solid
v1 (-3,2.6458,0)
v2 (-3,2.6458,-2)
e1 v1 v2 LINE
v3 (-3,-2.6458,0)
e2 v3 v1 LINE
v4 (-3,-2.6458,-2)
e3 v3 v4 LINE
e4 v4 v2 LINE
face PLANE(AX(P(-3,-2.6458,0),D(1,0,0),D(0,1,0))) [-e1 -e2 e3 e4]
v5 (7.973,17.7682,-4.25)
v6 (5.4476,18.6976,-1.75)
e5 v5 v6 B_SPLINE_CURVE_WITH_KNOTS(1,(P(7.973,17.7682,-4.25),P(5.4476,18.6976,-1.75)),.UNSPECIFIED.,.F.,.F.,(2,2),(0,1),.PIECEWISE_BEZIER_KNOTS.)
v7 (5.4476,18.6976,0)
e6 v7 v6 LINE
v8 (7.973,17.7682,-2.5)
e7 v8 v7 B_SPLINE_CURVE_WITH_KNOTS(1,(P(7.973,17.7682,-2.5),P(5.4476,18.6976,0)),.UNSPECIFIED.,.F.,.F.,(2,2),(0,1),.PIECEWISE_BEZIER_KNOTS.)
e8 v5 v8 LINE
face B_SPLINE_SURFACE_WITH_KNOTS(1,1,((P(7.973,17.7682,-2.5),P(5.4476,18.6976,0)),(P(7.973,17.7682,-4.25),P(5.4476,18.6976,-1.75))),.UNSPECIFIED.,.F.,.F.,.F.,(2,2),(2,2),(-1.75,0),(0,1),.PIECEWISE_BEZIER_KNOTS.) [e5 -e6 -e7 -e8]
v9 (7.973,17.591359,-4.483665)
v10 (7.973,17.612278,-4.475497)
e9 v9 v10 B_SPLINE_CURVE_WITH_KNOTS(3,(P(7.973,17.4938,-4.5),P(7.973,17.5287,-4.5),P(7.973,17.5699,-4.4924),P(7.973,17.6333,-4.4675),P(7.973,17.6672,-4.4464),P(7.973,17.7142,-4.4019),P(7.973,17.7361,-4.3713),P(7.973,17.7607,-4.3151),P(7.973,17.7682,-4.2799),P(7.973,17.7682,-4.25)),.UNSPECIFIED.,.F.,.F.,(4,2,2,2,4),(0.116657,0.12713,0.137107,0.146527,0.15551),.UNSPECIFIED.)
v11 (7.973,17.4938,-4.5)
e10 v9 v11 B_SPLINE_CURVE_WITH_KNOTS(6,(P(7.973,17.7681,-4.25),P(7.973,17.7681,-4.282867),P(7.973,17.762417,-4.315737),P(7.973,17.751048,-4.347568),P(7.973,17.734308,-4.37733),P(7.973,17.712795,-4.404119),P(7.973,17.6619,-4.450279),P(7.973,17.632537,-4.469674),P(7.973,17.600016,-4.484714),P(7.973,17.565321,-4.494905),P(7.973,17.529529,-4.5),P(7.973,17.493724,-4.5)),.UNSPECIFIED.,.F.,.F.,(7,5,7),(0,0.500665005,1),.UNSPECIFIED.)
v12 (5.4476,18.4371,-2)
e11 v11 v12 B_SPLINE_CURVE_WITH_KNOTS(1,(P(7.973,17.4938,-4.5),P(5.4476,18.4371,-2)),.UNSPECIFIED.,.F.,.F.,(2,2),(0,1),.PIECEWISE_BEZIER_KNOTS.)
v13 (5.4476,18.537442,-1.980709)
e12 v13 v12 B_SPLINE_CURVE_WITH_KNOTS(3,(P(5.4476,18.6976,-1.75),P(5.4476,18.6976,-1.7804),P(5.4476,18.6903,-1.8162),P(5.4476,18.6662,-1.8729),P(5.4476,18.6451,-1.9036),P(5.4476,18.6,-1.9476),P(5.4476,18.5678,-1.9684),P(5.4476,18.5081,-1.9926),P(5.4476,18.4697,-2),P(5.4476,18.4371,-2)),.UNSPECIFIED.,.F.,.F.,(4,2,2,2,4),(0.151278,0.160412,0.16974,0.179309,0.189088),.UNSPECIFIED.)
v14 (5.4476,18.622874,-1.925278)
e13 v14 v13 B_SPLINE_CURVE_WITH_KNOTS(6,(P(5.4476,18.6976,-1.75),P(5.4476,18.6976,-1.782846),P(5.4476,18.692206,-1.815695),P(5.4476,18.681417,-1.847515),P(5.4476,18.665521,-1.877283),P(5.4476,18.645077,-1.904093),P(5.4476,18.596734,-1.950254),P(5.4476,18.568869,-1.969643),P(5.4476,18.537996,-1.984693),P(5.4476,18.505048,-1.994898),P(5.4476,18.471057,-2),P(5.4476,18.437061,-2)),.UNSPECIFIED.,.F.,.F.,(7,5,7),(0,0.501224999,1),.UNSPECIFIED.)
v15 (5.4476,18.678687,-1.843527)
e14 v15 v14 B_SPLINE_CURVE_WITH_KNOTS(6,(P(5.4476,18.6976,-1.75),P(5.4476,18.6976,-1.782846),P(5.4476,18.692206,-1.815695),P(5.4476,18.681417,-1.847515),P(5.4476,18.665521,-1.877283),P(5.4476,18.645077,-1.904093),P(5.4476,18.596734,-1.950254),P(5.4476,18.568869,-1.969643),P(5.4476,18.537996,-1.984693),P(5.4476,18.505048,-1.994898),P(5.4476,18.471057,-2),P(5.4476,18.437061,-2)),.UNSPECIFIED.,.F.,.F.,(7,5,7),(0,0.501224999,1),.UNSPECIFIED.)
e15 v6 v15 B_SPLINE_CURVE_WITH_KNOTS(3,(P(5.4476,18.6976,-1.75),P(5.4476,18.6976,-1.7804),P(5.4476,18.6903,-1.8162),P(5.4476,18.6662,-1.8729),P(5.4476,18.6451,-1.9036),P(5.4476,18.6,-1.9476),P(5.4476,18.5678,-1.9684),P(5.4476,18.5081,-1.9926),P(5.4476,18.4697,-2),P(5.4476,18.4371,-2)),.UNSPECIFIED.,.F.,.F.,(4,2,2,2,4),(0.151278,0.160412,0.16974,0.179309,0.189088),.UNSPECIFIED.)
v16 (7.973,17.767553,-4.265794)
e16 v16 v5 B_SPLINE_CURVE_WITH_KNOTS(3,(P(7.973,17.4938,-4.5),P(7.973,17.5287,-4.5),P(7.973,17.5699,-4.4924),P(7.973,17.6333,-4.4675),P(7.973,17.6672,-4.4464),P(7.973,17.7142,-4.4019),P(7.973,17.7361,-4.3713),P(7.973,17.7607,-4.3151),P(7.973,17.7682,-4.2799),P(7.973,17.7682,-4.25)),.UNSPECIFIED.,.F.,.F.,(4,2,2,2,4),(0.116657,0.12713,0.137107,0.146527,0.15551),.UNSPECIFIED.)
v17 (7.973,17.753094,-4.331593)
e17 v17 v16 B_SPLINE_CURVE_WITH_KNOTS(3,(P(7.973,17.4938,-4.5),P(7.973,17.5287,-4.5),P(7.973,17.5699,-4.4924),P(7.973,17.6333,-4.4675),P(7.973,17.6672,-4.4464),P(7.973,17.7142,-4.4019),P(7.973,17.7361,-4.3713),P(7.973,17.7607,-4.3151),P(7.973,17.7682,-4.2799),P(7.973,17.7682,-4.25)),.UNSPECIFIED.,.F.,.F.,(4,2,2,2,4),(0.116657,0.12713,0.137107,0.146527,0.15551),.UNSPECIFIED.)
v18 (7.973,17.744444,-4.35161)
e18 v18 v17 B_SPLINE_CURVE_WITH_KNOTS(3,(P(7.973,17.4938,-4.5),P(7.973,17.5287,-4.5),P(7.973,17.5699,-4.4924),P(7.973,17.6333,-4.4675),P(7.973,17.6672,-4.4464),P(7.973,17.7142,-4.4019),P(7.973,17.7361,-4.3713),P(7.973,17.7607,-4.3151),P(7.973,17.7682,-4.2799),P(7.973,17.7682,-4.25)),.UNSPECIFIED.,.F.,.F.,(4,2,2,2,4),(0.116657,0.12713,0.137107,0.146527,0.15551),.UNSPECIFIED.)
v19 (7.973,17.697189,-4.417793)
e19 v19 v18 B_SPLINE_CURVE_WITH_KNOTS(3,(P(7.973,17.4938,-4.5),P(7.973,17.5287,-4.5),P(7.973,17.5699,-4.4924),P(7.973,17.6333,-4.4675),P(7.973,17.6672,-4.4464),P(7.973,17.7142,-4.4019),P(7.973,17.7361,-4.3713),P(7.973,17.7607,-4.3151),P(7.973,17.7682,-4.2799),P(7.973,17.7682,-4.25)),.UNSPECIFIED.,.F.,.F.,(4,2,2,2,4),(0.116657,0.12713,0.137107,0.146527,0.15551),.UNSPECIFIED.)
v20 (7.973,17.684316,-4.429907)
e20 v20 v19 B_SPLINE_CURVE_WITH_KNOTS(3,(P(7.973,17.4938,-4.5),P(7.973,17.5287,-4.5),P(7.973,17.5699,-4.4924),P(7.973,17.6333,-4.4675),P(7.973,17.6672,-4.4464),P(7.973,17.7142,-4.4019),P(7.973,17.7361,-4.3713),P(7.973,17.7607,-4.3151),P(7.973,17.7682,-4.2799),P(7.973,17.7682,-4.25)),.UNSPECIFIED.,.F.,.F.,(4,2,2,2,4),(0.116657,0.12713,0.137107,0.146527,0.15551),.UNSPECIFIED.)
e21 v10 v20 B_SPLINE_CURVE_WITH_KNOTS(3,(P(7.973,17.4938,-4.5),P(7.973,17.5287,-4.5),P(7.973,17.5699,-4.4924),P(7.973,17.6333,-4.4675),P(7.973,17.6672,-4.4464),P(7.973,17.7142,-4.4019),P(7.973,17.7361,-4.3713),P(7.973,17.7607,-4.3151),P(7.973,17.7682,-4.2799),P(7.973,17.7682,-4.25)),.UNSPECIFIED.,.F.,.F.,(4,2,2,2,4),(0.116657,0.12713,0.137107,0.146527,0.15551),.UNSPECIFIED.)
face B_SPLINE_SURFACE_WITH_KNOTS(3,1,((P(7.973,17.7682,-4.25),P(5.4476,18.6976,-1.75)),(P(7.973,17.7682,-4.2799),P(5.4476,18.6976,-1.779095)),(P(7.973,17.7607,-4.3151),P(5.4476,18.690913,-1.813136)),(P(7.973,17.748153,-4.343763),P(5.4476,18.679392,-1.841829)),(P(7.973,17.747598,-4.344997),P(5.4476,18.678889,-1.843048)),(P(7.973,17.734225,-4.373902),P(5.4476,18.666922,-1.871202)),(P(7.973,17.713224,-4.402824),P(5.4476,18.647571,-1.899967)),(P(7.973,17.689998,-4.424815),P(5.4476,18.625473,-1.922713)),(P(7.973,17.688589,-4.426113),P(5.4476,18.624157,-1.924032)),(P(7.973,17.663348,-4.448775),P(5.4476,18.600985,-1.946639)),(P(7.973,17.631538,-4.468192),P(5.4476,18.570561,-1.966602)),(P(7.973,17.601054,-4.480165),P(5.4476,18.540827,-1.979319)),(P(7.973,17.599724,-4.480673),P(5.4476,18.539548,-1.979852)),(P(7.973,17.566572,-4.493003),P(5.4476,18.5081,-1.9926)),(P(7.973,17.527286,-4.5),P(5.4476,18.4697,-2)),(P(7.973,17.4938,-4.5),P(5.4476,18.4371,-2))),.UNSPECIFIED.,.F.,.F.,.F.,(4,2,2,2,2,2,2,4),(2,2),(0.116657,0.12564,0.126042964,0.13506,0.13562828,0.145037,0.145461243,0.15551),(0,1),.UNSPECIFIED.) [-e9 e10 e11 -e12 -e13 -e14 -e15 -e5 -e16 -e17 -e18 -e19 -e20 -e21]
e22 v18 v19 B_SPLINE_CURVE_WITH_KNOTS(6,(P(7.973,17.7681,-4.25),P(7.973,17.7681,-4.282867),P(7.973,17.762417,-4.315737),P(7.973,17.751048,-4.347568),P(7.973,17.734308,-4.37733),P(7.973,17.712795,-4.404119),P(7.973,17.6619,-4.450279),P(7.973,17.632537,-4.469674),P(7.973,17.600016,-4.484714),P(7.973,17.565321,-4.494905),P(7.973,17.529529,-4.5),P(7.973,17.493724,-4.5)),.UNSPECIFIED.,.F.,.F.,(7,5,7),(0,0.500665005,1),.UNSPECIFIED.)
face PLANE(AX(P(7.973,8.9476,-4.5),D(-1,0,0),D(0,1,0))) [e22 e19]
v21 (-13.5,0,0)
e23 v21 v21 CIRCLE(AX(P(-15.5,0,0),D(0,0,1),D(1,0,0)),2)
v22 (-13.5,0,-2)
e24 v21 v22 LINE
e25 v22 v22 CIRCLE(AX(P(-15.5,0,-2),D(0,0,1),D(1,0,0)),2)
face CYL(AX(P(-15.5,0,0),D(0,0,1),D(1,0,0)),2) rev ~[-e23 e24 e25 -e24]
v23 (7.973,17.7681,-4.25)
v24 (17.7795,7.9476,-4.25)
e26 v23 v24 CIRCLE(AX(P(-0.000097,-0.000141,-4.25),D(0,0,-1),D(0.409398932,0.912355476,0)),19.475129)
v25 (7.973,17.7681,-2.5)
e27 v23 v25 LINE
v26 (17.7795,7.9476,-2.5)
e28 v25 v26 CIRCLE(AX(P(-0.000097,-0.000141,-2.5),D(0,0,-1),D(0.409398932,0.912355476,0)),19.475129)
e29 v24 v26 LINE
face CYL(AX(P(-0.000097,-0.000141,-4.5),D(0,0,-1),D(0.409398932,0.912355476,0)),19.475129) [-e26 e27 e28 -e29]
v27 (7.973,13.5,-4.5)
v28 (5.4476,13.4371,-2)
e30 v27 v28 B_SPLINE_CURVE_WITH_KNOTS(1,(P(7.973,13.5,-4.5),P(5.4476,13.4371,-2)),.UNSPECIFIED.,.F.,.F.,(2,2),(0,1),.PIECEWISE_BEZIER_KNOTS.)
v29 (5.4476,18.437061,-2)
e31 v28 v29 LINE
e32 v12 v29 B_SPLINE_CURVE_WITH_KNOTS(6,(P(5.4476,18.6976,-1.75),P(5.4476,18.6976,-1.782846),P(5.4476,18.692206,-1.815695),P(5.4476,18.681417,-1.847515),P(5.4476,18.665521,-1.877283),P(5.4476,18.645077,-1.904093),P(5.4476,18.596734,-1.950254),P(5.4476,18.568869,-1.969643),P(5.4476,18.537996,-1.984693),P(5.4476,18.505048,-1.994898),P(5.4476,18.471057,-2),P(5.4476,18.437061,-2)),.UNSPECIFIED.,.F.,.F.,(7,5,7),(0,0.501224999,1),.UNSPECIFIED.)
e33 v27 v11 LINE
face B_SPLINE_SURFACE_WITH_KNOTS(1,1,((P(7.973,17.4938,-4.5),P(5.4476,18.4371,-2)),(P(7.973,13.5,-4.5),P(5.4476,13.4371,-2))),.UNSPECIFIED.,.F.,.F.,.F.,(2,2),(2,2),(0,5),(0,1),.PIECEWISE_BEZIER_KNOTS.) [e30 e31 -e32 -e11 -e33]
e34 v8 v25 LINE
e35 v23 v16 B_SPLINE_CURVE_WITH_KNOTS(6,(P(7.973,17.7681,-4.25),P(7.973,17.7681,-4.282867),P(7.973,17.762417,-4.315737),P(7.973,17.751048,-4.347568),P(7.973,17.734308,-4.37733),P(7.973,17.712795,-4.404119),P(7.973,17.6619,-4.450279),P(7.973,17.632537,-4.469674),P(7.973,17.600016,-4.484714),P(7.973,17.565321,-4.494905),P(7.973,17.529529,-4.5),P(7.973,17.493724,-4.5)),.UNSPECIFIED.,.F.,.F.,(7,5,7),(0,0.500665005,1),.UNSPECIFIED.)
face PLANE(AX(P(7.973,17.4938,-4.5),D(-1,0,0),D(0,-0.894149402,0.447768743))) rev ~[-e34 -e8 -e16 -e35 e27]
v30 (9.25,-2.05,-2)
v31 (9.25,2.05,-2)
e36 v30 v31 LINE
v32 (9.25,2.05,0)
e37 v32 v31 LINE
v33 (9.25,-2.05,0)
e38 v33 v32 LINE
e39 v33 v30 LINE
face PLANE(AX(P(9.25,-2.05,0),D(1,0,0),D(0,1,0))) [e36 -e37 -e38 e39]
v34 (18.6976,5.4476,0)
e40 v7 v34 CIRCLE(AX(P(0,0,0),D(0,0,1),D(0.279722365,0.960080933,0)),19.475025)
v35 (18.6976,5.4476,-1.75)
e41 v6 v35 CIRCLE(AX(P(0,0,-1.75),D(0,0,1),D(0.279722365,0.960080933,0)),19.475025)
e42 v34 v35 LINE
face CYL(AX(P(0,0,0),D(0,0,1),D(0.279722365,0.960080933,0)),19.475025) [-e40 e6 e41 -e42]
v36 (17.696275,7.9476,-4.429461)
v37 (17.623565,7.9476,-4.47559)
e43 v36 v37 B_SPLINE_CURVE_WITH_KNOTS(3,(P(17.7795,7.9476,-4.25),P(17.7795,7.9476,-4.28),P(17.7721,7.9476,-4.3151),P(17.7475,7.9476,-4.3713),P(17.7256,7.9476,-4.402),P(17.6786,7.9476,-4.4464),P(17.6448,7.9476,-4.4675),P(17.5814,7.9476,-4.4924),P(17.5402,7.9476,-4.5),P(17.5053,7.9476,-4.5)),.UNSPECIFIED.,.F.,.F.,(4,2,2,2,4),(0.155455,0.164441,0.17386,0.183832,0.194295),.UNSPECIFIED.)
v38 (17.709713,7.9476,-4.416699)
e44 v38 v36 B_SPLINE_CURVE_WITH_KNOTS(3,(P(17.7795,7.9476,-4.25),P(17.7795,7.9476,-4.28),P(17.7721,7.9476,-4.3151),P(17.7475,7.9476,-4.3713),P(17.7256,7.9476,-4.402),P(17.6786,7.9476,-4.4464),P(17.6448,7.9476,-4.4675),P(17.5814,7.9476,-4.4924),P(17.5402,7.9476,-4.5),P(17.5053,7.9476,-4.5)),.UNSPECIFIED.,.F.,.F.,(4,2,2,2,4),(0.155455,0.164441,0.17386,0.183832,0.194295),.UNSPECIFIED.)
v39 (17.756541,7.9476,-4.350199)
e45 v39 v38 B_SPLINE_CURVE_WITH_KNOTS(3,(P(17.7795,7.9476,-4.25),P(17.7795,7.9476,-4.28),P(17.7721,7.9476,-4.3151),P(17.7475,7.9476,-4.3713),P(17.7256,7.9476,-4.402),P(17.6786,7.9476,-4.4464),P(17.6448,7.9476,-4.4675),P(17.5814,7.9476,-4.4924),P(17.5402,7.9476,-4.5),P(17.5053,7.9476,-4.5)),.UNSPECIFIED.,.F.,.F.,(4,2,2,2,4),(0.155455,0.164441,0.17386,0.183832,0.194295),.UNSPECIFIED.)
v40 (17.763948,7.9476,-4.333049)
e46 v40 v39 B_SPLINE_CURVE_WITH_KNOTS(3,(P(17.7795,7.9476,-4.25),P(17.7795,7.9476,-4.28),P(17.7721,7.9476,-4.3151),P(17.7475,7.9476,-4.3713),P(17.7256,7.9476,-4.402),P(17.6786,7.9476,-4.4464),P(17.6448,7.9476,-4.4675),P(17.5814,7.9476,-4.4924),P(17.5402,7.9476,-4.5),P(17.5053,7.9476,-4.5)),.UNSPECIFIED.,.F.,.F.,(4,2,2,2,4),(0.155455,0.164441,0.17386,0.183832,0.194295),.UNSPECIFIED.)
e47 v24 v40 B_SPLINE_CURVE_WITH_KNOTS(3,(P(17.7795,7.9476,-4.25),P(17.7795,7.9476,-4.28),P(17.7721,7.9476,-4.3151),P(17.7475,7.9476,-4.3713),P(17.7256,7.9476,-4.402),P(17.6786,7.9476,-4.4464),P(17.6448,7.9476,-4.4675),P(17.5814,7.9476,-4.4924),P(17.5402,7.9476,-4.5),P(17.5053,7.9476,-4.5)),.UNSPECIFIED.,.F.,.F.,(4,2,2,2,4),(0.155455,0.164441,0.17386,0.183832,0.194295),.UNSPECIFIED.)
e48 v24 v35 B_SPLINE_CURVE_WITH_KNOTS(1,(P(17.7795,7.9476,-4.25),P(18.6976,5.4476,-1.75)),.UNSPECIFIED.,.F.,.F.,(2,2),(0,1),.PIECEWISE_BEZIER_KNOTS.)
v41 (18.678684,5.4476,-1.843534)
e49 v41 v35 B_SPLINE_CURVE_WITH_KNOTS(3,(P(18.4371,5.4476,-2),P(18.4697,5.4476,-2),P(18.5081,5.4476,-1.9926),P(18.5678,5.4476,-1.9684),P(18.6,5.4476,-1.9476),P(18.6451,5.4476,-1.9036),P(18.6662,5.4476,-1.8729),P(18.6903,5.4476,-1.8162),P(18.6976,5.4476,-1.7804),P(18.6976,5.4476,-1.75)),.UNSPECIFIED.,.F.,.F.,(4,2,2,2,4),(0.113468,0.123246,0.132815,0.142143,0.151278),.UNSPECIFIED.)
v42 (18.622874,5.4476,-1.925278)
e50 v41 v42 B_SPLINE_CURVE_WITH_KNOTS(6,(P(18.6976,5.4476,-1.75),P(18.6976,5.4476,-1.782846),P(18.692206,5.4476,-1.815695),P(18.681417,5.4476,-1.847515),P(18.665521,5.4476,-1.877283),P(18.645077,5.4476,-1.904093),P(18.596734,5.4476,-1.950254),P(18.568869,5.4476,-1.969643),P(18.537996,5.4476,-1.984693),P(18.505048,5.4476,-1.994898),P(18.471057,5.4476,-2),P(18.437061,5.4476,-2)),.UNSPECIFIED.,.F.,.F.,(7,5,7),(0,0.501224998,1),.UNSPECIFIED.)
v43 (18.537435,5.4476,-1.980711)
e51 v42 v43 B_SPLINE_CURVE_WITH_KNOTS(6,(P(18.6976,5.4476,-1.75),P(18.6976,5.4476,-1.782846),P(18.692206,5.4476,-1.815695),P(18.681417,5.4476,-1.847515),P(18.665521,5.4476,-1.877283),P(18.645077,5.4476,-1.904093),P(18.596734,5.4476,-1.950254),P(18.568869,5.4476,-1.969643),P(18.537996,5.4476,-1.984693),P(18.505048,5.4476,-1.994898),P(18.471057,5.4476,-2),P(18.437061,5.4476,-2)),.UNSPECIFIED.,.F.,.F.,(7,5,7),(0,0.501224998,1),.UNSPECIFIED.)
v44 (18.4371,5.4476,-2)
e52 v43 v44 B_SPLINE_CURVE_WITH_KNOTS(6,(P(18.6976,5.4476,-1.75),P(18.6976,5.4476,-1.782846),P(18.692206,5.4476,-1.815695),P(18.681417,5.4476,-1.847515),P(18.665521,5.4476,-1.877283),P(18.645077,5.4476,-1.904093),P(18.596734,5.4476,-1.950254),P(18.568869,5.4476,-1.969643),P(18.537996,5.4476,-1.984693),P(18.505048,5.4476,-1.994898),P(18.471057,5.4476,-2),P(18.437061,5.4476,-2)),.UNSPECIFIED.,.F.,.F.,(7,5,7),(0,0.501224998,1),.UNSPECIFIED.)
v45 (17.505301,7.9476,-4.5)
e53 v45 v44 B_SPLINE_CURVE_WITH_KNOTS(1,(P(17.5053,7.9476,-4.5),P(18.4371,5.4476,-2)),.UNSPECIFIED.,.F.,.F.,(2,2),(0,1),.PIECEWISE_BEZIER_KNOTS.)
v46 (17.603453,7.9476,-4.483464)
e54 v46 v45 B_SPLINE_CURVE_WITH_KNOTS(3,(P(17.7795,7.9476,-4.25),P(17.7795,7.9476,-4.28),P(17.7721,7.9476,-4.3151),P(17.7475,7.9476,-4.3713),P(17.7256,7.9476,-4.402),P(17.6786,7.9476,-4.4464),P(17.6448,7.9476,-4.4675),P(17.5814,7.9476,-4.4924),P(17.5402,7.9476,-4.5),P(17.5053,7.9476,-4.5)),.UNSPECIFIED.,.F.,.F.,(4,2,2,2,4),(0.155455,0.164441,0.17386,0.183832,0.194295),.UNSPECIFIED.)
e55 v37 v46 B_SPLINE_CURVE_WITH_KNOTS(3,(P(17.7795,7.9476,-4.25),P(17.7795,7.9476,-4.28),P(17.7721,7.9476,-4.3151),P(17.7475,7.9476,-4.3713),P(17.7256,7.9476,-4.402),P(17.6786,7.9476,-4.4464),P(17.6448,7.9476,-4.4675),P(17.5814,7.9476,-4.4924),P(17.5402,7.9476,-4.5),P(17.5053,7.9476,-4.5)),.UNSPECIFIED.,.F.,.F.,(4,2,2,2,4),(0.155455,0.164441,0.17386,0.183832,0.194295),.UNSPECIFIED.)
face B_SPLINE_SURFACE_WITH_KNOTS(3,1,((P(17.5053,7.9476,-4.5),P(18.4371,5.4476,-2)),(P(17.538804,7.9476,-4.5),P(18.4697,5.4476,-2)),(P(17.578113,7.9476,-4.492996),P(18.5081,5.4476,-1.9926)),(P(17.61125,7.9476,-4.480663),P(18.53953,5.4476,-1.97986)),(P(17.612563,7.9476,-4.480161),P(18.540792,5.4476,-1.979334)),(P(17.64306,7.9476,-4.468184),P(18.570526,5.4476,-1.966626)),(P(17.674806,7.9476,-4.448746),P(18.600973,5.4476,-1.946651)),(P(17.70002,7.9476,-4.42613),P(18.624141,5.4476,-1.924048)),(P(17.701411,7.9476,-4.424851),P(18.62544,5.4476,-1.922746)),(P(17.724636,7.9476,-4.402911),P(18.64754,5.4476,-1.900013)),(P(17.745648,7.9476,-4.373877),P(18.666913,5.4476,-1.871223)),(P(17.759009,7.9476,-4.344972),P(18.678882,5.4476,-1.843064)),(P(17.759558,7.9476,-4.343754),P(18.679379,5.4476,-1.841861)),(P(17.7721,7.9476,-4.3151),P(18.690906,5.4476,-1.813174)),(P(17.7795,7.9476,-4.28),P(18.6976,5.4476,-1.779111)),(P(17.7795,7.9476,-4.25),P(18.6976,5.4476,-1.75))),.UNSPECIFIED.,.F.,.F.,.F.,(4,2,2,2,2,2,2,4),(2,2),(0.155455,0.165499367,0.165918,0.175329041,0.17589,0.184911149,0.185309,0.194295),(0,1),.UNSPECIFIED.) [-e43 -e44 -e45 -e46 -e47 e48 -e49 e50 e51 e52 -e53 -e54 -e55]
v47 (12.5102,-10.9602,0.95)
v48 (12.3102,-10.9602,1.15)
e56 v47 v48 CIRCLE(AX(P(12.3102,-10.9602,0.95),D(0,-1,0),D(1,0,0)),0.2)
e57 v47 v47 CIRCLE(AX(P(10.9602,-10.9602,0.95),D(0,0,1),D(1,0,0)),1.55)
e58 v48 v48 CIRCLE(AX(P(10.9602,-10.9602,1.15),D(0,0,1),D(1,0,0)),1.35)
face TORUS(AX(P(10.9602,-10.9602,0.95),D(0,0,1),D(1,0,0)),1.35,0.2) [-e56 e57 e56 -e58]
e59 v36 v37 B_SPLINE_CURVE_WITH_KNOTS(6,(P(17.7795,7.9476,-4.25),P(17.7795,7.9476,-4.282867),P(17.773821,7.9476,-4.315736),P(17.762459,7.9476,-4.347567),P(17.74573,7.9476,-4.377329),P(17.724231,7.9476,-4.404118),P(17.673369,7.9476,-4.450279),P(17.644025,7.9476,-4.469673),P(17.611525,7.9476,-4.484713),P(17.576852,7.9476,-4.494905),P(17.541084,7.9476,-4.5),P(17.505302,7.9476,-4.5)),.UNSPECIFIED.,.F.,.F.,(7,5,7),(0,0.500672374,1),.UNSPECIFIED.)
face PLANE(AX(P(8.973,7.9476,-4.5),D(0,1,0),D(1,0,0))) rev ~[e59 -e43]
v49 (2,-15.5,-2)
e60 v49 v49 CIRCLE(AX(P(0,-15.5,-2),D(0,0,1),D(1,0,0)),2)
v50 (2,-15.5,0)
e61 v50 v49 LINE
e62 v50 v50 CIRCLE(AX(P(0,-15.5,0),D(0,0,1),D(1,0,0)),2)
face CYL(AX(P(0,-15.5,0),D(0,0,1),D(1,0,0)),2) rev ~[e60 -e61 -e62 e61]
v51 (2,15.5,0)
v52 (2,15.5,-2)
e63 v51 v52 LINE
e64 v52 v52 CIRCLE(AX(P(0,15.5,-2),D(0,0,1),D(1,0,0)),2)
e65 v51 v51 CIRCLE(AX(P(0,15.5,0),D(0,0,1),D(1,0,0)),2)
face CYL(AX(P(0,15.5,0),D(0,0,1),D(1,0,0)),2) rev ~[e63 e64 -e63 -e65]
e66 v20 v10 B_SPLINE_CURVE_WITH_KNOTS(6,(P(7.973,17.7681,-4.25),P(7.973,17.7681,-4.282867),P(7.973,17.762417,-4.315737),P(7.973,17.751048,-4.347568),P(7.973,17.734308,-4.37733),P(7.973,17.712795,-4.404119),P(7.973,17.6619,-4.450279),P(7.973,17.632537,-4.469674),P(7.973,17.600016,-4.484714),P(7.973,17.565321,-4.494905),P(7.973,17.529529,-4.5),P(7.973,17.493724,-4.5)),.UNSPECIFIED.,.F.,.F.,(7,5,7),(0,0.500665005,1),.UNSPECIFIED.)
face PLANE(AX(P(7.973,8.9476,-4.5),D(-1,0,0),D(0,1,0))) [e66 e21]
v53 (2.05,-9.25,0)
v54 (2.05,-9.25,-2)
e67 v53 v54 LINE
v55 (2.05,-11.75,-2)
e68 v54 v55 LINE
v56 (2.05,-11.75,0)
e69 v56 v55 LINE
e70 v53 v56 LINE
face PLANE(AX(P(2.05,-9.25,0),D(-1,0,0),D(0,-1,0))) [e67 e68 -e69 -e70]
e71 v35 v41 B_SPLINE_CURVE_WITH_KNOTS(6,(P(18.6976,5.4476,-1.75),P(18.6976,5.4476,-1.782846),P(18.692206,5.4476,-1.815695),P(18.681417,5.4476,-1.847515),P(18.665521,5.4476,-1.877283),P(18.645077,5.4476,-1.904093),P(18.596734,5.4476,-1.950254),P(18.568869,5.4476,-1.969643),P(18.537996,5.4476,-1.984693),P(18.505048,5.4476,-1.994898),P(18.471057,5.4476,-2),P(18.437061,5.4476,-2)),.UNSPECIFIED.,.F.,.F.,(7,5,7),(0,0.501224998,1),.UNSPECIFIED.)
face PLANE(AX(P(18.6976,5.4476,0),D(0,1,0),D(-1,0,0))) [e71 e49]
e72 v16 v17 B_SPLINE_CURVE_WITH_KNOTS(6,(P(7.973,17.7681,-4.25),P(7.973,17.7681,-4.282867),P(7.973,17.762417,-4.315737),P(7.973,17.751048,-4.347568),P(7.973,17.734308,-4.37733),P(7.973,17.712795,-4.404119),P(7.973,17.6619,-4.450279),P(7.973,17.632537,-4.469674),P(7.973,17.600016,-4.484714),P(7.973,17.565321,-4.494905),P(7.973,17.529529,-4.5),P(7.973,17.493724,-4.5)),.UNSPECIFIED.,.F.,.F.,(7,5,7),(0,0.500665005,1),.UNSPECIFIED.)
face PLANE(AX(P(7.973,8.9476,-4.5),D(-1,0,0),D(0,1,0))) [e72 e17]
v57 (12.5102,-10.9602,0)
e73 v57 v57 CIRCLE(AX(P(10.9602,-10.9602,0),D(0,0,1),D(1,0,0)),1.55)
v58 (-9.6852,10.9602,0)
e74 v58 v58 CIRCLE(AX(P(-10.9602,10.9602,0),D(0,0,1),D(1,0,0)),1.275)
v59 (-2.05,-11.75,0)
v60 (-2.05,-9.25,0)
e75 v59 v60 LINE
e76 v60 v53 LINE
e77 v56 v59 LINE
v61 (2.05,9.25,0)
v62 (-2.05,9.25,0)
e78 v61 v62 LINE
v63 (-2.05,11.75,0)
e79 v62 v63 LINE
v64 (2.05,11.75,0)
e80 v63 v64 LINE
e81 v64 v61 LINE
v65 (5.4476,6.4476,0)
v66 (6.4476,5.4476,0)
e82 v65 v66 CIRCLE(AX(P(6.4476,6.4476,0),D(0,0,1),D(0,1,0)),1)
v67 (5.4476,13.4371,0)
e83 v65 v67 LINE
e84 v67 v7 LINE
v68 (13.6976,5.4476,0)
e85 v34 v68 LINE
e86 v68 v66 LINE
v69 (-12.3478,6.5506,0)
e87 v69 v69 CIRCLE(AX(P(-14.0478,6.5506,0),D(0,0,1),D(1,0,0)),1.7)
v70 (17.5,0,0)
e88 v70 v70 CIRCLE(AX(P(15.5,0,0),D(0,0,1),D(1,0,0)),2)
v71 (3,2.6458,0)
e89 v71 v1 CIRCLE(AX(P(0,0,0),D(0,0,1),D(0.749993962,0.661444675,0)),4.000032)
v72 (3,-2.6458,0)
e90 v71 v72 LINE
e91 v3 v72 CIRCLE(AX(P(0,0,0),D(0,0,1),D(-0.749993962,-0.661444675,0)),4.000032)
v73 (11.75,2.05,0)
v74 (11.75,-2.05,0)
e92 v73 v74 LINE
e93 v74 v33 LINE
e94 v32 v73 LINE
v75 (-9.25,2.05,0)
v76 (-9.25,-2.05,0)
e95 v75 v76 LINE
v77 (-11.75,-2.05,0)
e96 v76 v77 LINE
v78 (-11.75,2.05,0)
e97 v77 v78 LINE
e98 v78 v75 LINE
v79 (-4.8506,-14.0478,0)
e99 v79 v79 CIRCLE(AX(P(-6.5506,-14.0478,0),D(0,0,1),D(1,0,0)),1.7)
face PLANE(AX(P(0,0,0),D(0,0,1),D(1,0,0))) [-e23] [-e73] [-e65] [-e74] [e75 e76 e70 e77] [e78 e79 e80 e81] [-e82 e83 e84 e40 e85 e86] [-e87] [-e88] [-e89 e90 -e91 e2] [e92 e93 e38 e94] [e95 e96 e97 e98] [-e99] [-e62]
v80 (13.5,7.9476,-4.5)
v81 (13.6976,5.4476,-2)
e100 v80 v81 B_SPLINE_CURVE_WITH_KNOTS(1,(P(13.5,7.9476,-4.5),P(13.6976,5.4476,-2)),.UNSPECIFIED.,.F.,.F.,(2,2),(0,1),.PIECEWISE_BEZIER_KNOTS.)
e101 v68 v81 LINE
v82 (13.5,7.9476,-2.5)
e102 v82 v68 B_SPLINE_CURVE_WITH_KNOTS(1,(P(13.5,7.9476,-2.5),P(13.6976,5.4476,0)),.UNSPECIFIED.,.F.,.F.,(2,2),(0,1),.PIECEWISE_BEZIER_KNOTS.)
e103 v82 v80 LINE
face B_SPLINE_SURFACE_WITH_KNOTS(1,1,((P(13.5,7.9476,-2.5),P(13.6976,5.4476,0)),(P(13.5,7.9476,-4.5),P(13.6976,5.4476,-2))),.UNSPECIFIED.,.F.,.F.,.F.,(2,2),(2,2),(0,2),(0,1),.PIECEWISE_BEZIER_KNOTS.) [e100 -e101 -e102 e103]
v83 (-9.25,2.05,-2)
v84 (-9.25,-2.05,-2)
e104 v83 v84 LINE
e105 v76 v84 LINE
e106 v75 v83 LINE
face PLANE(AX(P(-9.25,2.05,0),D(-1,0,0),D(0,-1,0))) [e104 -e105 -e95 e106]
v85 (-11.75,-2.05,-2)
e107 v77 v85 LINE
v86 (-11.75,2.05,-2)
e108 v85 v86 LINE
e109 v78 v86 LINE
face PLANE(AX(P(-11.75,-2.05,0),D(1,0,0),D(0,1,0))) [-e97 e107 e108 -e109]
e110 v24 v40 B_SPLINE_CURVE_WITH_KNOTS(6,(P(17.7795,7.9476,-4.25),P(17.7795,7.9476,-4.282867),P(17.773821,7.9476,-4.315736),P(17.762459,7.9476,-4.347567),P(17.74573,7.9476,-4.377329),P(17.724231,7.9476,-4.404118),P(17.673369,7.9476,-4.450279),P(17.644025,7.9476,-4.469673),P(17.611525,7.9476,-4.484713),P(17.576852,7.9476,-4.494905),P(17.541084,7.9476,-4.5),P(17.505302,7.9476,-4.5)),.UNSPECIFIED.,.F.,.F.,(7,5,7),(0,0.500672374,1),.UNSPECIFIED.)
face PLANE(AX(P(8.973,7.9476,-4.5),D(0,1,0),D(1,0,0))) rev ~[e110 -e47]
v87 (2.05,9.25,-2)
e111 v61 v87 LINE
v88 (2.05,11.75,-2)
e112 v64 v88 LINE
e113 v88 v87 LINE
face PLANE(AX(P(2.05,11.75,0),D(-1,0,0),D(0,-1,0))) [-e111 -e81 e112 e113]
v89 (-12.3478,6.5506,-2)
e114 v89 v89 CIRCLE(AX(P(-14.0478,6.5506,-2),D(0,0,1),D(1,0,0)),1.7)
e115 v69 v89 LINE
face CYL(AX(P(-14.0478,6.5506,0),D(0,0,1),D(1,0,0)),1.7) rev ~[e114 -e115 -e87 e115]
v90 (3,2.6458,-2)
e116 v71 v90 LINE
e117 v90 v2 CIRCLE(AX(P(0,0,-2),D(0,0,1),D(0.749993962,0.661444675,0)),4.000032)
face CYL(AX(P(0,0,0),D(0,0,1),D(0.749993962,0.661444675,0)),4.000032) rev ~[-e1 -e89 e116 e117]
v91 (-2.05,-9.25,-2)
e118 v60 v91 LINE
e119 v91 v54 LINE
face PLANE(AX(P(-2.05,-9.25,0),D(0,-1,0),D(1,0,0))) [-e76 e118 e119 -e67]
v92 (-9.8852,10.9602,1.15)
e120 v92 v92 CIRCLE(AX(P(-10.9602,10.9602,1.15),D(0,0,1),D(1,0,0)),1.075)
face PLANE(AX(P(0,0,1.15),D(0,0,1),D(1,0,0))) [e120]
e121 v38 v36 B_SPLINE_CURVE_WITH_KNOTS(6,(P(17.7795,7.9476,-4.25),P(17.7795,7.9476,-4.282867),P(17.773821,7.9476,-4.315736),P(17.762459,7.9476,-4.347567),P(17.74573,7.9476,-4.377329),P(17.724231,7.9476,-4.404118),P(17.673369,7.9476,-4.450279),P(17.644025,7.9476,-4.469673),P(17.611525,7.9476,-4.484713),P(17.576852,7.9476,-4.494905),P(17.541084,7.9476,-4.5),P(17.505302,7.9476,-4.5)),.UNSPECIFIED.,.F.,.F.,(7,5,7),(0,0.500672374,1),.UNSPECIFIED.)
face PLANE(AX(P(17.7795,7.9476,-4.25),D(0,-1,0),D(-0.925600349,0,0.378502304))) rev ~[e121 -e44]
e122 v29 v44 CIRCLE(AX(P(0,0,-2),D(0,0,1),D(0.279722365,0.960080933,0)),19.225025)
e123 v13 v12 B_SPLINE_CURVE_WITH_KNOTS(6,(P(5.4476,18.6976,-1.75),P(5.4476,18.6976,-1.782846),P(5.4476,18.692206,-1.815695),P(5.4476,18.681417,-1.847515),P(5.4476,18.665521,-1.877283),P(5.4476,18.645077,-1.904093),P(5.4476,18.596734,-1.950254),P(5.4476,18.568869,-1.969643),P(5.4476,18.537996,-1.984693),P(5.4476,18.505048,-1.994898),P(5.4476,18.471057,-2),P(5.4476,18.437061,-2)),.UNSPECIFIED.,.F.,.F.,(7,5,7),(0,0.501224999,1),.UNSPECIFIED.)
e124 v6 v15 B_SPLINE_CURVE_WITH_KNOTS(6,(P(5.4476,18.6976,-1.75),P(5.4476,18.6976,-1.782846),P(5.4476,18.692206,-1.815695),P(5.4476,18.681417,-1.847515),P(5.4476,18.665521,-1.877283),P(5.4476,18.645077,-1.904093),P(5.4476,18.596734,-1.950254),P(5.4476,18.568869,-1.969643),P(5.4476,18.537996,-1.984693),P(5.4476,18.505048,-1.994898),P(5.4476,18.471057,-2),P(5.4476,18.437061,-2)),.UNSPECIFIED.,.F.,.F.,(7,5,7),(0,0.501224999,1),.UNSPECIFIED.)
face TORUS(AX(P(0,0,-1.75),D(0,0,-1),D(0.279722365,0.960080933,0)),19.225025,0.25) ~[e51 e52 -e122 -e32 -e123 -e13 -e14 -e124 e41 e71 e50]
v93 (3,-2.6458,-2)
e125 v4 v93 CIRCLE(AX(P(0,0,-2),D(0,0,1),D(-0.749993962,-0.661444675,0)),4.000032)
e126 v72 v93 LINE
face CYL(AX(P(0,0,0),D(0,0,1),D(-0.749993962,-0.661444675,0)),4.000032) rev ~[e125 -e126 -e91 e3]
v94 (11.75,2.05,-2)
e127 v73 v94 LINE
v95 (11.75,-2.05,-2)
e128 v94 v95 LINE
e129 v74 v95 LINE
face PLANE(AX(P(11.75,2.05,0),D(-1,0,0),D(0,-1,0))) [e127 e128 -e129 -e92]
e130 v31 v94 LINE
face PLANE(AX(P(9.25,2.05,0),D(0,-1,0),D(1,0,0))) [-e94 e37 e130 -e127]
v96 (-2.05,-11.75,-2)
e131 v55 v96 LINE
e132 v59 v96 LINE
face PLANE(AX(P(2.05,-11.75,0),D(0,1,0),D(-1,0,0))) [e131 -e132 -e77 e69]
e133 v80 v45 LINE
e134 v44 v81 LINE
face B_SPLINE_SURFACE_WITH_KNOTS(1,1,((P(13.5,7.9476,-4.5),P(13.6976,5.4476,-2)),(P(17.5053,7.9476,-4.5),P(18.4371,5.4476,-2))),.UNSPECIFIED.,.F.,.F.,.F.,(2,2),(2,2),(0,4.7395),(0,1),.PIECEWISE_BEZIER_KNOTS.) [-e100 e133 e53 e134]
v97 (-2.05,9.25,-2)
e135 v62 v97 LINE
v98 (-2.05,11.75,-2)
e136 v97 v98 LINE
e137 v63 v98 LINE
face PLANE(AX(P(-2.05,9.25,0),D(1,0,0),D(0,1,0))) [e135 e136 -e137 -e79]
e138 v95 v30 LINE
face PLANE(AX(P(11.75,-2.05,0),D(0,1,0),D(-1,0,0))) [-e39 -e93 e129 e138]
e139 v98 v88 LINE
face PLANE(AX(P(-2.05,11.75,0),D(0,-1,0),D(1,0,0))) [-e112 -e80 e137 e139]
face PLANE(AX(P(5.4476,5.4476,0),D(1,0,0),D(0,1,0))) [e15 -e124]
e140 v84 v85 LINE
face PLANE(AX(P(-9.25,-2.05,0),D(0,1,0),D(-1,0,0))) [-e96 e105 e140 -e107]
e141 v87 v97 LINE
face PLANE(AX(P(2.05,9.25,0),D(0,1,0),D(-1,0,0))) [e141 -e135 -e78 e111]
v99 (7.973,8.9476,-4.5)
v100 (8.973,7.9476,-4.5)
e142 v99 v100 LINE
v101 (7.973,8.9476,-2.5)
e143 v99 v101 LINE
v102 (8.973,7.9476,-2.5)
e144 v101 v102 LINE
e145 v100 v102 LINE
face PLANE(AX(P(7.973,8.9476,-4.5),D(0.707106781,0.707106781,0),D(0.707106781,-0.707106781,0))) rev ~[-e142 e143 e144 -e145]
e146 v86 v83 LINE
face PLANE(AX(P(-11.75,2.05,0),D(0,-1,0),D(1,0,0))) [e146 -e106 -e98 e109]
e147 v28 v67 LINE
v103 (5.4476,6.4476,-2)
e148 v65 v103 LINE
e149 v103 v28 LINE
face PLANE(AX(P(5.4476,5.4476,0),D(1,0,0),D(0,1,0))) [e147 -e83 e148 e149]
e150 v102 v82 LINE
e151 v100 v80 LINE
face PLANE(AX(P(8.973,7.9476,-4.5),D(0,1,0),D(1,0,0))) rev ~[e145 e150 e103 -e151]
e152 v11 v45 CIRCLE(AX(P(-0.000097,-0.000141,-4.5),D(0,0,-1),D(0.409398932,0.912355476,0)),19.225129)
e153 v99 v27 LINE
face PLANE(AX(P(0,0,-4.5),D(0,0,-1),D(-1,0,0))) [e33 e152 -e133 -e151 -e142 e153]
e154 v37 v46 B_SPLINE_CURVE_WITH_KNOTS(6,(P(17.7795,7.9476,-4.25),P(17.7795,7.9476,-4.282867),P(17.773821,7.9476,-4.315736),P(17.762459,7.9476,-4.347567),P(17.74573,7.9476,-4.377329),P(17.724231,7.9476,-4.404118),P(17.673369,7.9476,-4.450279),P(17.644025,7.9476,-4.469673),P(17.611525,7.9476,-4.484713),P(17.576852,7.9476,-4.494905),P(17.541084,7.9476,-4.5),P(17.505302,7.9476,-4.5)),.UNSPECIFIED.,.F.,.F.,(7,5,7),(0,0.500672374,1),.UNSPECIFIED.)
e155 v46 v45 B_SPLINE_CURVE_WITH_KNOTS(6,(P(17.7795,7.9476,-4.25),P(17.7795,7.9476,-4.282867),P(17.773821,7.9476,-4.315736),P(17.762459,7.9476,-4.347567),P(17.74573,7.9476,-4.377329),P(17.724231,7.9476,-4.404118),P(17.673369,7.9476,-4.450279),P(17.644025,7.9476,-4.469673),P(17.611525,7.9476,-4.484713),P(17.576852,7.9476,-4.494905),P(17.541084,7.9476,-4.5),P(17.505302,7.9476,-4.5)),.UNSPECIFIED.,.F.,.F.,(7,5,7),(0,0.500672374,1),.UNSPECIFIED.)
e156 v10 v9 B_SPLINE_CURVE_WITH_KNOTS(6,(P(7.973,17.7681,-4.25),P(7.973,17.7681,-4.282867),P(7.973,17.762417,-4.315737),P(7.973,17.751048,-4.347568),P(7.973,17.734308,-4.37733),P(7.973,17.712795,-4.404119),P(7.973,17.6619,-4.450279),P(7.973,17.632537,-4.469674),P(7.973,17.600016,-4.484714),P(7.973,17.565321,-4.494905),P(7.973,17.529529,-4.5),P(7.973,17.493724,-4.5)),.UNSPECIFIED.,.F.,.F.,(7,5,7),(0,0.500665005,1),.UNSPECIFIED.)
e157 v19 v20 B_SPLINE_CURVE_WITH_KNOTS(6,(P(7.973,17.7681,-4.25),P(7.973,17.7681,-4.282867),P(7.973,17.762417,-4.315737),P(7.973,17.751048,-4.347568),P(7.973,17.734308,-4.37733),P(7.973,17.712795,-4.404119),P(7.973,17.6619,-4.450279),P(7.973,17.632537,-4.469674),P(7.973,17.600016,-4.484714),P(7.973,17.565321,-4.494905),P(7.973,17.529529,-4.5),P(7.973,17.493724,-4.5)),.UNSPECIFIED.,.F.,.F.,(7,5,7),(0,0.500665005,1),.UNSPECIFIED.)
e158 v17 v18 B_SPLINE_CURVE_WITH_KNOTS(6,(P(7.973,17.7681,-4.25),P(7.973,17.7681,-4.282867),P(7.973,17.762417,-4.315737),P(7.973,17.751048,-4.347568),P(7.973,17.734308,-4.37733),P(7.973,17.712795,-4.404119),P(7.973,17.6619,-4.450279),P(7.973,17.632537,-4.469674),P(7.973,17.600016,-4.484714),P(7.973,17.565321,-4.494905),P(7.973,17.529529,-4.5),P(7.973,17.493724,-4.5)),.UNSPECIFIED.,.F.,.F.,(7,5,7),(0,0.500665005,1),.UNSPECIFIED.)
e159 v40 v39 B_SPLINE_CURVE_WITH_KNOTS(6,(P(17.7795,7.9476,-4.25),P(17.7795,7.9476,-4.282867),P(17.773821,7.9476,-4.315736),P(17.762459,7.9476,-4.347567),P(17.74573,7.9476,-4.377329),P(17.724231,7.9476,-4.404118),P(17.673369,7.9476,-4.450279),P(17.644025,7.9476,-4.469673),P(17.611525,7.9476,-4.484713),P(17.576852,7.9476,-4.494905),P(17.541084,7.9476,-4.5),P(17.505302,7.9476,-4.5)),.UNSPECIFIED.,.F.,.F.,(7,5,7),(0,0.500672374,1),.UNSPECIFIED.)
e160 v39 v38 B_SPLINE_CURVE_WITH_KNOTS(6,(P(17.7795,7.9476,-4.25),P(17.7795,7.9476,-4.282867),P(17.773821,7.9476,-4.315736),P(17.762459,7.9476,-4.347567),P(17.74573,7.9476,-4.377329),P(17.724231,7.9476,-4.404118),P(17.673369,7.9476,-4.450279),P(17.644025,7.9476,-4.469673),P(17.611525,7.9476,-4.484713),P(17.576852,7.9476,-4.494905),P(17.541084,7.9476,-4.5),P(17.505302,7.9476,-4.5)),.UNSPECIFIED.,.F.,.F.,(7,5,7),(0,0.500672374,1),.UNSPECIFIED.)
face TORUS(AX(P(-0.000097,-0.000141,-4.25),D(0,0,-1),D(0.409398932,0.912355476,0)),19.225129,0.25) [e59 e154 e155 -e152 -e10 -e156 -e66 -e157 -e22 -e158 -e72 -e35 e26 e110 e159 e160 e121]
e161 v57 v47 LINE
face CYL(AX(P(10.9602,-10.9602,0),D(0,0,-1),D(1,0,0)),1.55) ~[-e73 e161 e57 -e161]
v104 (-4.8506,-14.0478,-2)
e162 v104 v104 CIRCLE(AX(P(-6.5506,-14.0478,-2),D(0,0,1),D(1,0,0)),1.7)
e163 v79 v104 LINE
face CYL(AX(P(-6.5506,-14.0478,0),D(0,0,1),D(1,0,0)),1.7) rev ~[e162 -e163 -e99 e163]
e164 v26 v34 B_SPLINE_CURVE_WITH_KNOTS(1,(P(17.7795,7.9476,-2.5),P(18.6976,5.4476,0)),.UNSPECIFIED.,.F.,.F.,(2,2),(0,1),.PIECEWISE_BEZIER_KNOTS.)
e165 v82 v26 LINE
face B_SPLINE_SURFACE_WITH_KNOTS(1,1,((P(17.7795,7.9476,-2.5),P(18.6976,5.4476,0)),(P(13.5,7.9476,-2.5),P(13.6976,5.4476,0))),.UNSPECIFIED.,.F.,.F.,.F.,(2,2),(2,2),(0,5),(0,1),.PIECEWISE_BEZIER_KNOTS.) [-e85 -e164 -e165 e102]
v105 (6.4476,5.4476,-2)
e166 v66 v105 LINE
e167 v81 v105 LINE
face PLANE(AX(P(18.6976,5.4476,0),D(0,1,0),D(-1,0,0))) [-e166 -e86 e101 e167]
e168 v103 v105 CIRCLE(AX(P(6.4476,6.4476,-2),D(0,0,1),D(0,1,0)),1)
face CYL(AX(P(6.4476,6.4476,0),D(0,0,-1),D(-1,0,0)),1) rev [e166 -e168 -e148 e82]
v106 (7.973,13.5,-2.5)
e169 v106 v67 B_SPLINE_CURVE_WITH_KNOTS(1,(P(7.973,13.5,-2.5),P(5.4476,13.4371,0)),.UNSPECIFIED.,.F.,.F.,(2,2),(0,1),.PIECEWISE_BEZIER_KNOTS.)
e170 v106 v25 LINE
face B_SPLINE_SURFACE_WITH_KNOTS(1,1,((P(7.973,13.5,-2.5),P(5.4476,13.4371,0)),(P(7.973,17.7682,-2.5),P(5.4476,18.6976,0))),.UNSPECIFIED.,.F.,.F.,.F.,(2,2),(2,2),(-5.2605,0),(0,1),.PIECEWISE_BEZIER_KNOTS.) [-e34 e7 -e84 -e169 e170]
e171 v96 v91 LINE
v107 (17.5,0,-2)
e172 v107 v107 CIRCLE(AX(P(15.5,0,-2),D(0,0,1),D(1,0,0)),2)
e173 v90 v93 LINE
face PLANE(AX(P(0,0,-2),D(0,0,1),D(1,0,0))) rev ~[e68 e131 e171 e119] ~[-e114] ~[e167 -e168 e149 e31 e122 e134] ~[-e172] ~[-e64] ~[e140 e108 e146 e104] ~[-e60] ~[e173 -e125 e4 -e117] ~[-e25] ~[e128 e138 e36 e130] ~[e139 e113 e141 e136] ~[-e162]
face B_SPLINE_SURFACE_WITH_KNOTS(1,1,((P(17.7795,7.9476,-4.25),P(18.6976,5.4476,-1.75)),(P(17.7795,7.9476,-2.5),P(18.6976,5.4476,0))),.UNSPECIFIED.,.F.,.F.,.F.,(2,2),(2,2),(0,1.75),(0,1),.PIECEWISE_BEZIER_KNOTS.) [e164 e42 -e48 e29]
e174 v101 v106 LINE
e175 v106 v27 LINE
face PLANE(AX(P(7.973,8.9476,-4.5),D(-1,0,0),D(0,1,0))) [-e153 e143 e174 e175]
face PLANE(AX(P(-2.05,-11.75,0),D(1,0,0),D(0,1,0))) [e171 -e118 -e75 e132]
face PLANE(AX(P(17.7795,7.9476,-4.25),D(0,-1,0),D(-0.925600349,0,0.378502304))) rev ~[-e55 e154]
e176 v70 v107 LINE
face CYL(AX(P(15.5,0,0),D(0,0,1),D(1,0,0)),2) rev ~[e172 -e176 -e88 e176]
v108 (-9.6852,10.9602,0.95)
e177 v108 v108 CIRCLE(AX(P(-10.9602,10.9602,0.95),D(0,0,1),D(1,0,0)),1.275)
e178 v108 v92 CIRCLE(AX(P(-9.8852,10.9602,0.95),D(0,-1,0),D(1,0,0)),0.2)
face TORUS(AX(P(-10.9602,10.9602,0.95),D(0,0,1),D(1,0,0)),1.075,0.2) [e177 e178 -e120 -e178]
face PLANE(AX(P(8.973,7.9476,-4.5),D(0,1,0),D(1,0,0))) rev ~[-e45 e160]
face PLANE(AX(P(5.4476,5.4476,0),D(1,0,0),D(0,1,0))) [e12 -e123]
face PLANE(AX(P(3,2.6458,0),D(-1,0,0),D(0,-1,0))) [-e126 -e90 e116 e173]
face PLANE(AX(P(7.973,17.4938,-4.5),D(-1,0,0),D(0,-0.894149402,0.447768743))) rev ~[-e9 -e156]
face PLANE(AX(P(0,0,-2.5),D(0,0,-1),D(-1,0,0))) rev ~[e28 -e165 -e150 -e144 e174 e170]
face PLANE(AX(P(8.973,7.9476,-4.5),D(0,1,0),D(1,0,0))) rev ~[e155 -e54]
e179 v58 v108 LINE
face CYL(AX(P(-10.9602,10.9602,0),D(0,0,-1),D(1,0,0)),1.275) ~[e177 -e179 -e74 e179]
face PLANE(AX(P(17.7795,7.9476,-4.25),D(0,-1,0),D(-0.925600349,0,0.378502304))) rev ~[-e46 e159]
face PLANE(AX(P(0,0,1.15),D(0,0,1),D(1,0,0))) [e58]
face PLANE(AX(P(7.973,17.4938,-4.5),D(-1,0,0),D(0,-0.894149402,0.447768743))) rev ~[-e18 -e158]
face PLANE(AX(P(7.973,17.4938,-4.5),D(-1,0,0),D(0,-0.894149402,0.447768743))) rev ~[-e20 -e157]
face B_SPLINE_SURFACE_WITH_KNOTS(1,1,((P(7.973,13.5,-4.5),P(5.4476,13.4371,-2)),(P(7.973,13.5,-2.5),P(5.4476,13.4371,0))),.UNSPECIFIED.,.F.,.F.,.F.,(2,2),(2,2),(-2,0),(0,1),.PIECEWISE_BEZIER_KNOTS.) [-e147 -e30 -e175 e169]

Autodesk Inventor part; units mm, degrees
ref_plane "YZ Plane" through (0, 0, 0) normal (1, 0, 0) x (0, 1, 0)
ref_plane "XZ Plane" through (0, 0, 0) normal (0, 1, 0) x (-1, 0, 0)
sketch "Szkic1" plane through (0, 0, 0) normal (0, 0, 1) x (1, 0, 0)
  arc A0 (5.4476, 18.6976) -> (18.6976, 5.4476) centre (0, 0) ccw
  line L0 (-11.75, 2.05) -> (-9.25, 2.05)
  line L1 (-9.25, 2.05) -> (-9.25, -2.05)
  line L2 (-9.25, -2.05) -> (-11.75, -2.05)
  line L3 (-11.75, -2.05) -> (-11.75, 2.05)
  line L4 (-2.05, -11.75) -> (-2.05, -9.25)
  line L5 (-2.05, -9.25) -> (2.05, -9.25)
  line L6 (2.05, -9.25) -> (2.05, -11.75)
  line L7 (2.05, -11.75) -> (-2.05, -11.75)
  line L8 (11.75, -2.05) -> (9.25, -2.05)
  line L9 (9.25, -2.05) -> (9.25, 2.05)
  line L10 (9.25, 2.05) -> (11.75, 2.05)
  line L11 (11.75, 2.05) -> (11.75, -2.05)
  line L12 (2.05, 11.75) -> (2.05, 9.25)
  line L13 (2.05, 9.25) -> (-2.05, 9.25)
  line L14 (-2.05, 9.25) -> (-2.05, 11.75)
  line L15 (-2.05, 11.75) -> (2.05, 11.75)
  line L16 (18.6976, 5.4476) -> (5.4476, 5.4476)
  line L17 (5.4476, 5.4476) -> (5.4476, 18.6976)
  circle A1 centre (0, 15.5) radius 2
  line L18 (-3, -2.6458) -> (-3, 2.6458)
  line L19 (3, 2.6458) -> (3, -2.6458)
  arc A2 (-3, -2.6458) -> (3, -2.6458) centre (0, 0) ccw
  arc A3 (3, 2.6458) -> (-3, 2.6458) centre (0, 0) ccw
  circle A4 centre (-15.5, 0) radius 2
  circle A5 centre (0, -15.5) radius 2
  circle A6 centre (15.5, 0) radius 2
  circle A7 centre (-14.0478, 6.5506) radius 1.7
  line L20 (-15.5, 0) -> (-12.5, 0) construction
  circle A8 centre (-6.5506, -14.0478) radius 1.7
  dimension "d0" = 38.95
  dimension "d5" = 2.5
  dimension "d6" = 4.1
  dimension "d9" = 360
  dimension "d12" = 13.25
  dimension "d14" = 4
  dimension "d19" = 360
extrude "Wyciągnięcie proste1" add sketch "Szkic1" against normal blind 2
fillet "Zaokrąglenie1" radius 0.25 1 edges at (-13.7709, -13.7709, -2)
thread "Gwint1" size "M4x0.7" class "6H" standard "ANSI Metric M Profile" full length
thread "Gwint2" size "M4x0.7" class "6H" standard "ANSI Metric M Profile" full length
thread "Gwint3" size "M4x0.7" class "6H" standard "ANSI Metric M Profile" full length
thread "Gwint4" size "M4x0.7" class "6H" standard "ANSI Metric M Profile" full length
fillet "Zaokrąglenie2" radius 1 1 edges at (5.4476, 5.4476, -1)
sketch "Szkic2" plane through (0, 0, 0) normal (0, 0, 1) x (1, 0, 0)
  circle A0 centre (10.9602, -10.9602) radius 1.55
  circle A1 centre (-10.9602, 10.9602) radius 1.275
  dimension "d42" = 3.1
  dimension "d69" = 2.55
extrude "Wyciągnięcie proste2" add sketch "Szkic2" along normal blind 1.15
fillet "Zaokrąglenie3" radius 0.2 1 edges at (9.4102, -10.9602, 1.15)
ref_plane "Płaszczyzna konstrukcyjna1" through (0, 0, -4.5) normal (0, 0, -1) x (-1, 0, 0)
sketch "Szkic3" plane through (0, 0, -4.5) normal (0, 0, -1) x (-1, 0, 0)
  arc A0 (-7.973, 17.7681) -> (-17.7795, 7.9476) centre (0, 0) ccw
  line L0 (-7.973, 8.9476) -> (-7.973, 17.7681)
  line L1 (-8.973, 7.9476) -> (-17.7795, 7.9476)
  line L2 (-7.973, 8.9476) -> (-8.973, 7.9476)
  point P0 (-7.973, 7.9476)
  dimension "d53" = 1
  dimension "d54" = 45
extrude "Wyciągnięcie proste3" add sketch "Szkic3" against normal blind 2
fillet "Zaokrąglenie4" radius 0.25 1 edges at (13.7807, 13.7611, -4.5)
sketch "Szkic4" plane through (5.4476, 18.6976, 0) normal (1, 0, 0) x (0, 0, -1)
  spline S0 degree 3 poles (1.75, 0) (1.7804, 0) (1.8162, -0.0073) (1.8729, -0.0314) (1.9036, -0.0525) (1.9476, -0.0976) (1.9684, -0.1298) (1.9926, -0.1895) (2, -0.2279) (2, -0.2605) knots 0.151278 0.151278 0.151278 0.151278 0.160412 0.160412 0.16974 0.16974 0.179309 0.179309 0.189088 0.189088 0.189088 0.189088
  line L0 (0, 0) -> (1.75, 0)
  line L1 (0, 0) -> (0, -5.2605)
  line L2 (2, -0.2605) -> (2, -5.2605)
  line L3 (2, -5.2605) -> (0, -5.2605)
  dimension "d58" = 5
sketch "Szkic5" plane through (7.973, 8.9476, -2.5) normal (-1, 0, 0) x (0, 0, 1)
  spline S0 degree 3 poles (-2, 8.5462) (-2, 8.5811) (-1.9924, 8.6223) (-1.9675, 8.6857) (-1.9464, 8.7196) (-1.9019, 8.7666) (-1.8713, 8.7885) (-1.8151, 8.8131) (-1.7799, 8.8206) (-1.75, 8.8206) knots 0.116657 0.116657 0.116657 0.116657 0.12713 0.12713 0.137107 0.137107 0.146527 0.146527 0.15551 0.15551 0.15551 0.15551
  line L0 (-1.75, 8.8206) -> (0, 8.8206)
  line L1 (0, 4.5524) -> (-2, 4.5524)
  line L2 (-2, 4.5524) -> (-2, 8.5462)
  line L3 (0, 8.8206) -> (0, 4.5524)
  point P0 (2.5, -8.9476)
loft "Wyciągnięcie złożone1" add profiles "Szkic5", "Szkic4"
sketch "Szkic6" plane through (18.6976, 5.4476, 0) normal (0, 1, 0) x (1, 0, 0)
  line L0 (0, 0) -> (0, 1.75)
  spline S0 degree 3 poles (-0.2605, 2) (-0.2279, 2) (-0.1895, 1.9926) (-0.1298, 1.9684) (-0.0976, 1.9476) (-0.0525, 1.9036) (-0.0314, 1.8729) (-0.0073, 1.8162) (0, 1.7804) (0, 1.75) knots 0.113468 0.113468 0.113468 0.113468 0.123246 0.123246 0.132815 0.132815 0.142143 0.142143 0.151278 0.151278 0.151278 0.151278
  line L1 (0, 0) -> (-5, 0)
  line L2 (-5, 0) -> (-5, 2)
  line L3 (-5, 2) -> (-0.2605, 2)
  point P0 (-18.6976, 0)
  point P1 (-13.25, 0)
  dimension "d63" = 5
sketch "Szkic7" plane through (8.973, 7.9476, -2.5) normal (0, -1, 0) x (1, 0, 0)
  spline S0 degree 3 poles (8.8065, -1.75) (8.8065, -1.78) (8.7991, -1.8151) (8.7745, -1.8713) (8.7526, -1.902) (8.7056, -1.9464) (8.6718, -1.9675) (8.6084, -1.9924) (8.5672, -2) (8.5323, -2) knots 0.155455 0.155455 0.155455 0.155455 0.164441 0.164441 0.17386 0.17386 0.183832 0.183832 0.194295 0.194295 0.194295 0.194295
  line L0 (8.8065, -1.75) -> (8.8065, 0)
  line L1 (4.527, 0) -> (4.527, -2)
  line L2 (8.5323, -2) -> (4.527, -2)
  line L3 (8.8065, 0) -> (4.527, 0)
  point P0 (-8.973, 2.5)
loft "Wyciągnięcie złożone2" add profiles "Szkic7", "Szkic6"
fillet "Zaokrąglenie5" radius 0.2 1 edges at (-12.2352, 10.9602, 1.15)
properties material "Stal, galwanizowana"
